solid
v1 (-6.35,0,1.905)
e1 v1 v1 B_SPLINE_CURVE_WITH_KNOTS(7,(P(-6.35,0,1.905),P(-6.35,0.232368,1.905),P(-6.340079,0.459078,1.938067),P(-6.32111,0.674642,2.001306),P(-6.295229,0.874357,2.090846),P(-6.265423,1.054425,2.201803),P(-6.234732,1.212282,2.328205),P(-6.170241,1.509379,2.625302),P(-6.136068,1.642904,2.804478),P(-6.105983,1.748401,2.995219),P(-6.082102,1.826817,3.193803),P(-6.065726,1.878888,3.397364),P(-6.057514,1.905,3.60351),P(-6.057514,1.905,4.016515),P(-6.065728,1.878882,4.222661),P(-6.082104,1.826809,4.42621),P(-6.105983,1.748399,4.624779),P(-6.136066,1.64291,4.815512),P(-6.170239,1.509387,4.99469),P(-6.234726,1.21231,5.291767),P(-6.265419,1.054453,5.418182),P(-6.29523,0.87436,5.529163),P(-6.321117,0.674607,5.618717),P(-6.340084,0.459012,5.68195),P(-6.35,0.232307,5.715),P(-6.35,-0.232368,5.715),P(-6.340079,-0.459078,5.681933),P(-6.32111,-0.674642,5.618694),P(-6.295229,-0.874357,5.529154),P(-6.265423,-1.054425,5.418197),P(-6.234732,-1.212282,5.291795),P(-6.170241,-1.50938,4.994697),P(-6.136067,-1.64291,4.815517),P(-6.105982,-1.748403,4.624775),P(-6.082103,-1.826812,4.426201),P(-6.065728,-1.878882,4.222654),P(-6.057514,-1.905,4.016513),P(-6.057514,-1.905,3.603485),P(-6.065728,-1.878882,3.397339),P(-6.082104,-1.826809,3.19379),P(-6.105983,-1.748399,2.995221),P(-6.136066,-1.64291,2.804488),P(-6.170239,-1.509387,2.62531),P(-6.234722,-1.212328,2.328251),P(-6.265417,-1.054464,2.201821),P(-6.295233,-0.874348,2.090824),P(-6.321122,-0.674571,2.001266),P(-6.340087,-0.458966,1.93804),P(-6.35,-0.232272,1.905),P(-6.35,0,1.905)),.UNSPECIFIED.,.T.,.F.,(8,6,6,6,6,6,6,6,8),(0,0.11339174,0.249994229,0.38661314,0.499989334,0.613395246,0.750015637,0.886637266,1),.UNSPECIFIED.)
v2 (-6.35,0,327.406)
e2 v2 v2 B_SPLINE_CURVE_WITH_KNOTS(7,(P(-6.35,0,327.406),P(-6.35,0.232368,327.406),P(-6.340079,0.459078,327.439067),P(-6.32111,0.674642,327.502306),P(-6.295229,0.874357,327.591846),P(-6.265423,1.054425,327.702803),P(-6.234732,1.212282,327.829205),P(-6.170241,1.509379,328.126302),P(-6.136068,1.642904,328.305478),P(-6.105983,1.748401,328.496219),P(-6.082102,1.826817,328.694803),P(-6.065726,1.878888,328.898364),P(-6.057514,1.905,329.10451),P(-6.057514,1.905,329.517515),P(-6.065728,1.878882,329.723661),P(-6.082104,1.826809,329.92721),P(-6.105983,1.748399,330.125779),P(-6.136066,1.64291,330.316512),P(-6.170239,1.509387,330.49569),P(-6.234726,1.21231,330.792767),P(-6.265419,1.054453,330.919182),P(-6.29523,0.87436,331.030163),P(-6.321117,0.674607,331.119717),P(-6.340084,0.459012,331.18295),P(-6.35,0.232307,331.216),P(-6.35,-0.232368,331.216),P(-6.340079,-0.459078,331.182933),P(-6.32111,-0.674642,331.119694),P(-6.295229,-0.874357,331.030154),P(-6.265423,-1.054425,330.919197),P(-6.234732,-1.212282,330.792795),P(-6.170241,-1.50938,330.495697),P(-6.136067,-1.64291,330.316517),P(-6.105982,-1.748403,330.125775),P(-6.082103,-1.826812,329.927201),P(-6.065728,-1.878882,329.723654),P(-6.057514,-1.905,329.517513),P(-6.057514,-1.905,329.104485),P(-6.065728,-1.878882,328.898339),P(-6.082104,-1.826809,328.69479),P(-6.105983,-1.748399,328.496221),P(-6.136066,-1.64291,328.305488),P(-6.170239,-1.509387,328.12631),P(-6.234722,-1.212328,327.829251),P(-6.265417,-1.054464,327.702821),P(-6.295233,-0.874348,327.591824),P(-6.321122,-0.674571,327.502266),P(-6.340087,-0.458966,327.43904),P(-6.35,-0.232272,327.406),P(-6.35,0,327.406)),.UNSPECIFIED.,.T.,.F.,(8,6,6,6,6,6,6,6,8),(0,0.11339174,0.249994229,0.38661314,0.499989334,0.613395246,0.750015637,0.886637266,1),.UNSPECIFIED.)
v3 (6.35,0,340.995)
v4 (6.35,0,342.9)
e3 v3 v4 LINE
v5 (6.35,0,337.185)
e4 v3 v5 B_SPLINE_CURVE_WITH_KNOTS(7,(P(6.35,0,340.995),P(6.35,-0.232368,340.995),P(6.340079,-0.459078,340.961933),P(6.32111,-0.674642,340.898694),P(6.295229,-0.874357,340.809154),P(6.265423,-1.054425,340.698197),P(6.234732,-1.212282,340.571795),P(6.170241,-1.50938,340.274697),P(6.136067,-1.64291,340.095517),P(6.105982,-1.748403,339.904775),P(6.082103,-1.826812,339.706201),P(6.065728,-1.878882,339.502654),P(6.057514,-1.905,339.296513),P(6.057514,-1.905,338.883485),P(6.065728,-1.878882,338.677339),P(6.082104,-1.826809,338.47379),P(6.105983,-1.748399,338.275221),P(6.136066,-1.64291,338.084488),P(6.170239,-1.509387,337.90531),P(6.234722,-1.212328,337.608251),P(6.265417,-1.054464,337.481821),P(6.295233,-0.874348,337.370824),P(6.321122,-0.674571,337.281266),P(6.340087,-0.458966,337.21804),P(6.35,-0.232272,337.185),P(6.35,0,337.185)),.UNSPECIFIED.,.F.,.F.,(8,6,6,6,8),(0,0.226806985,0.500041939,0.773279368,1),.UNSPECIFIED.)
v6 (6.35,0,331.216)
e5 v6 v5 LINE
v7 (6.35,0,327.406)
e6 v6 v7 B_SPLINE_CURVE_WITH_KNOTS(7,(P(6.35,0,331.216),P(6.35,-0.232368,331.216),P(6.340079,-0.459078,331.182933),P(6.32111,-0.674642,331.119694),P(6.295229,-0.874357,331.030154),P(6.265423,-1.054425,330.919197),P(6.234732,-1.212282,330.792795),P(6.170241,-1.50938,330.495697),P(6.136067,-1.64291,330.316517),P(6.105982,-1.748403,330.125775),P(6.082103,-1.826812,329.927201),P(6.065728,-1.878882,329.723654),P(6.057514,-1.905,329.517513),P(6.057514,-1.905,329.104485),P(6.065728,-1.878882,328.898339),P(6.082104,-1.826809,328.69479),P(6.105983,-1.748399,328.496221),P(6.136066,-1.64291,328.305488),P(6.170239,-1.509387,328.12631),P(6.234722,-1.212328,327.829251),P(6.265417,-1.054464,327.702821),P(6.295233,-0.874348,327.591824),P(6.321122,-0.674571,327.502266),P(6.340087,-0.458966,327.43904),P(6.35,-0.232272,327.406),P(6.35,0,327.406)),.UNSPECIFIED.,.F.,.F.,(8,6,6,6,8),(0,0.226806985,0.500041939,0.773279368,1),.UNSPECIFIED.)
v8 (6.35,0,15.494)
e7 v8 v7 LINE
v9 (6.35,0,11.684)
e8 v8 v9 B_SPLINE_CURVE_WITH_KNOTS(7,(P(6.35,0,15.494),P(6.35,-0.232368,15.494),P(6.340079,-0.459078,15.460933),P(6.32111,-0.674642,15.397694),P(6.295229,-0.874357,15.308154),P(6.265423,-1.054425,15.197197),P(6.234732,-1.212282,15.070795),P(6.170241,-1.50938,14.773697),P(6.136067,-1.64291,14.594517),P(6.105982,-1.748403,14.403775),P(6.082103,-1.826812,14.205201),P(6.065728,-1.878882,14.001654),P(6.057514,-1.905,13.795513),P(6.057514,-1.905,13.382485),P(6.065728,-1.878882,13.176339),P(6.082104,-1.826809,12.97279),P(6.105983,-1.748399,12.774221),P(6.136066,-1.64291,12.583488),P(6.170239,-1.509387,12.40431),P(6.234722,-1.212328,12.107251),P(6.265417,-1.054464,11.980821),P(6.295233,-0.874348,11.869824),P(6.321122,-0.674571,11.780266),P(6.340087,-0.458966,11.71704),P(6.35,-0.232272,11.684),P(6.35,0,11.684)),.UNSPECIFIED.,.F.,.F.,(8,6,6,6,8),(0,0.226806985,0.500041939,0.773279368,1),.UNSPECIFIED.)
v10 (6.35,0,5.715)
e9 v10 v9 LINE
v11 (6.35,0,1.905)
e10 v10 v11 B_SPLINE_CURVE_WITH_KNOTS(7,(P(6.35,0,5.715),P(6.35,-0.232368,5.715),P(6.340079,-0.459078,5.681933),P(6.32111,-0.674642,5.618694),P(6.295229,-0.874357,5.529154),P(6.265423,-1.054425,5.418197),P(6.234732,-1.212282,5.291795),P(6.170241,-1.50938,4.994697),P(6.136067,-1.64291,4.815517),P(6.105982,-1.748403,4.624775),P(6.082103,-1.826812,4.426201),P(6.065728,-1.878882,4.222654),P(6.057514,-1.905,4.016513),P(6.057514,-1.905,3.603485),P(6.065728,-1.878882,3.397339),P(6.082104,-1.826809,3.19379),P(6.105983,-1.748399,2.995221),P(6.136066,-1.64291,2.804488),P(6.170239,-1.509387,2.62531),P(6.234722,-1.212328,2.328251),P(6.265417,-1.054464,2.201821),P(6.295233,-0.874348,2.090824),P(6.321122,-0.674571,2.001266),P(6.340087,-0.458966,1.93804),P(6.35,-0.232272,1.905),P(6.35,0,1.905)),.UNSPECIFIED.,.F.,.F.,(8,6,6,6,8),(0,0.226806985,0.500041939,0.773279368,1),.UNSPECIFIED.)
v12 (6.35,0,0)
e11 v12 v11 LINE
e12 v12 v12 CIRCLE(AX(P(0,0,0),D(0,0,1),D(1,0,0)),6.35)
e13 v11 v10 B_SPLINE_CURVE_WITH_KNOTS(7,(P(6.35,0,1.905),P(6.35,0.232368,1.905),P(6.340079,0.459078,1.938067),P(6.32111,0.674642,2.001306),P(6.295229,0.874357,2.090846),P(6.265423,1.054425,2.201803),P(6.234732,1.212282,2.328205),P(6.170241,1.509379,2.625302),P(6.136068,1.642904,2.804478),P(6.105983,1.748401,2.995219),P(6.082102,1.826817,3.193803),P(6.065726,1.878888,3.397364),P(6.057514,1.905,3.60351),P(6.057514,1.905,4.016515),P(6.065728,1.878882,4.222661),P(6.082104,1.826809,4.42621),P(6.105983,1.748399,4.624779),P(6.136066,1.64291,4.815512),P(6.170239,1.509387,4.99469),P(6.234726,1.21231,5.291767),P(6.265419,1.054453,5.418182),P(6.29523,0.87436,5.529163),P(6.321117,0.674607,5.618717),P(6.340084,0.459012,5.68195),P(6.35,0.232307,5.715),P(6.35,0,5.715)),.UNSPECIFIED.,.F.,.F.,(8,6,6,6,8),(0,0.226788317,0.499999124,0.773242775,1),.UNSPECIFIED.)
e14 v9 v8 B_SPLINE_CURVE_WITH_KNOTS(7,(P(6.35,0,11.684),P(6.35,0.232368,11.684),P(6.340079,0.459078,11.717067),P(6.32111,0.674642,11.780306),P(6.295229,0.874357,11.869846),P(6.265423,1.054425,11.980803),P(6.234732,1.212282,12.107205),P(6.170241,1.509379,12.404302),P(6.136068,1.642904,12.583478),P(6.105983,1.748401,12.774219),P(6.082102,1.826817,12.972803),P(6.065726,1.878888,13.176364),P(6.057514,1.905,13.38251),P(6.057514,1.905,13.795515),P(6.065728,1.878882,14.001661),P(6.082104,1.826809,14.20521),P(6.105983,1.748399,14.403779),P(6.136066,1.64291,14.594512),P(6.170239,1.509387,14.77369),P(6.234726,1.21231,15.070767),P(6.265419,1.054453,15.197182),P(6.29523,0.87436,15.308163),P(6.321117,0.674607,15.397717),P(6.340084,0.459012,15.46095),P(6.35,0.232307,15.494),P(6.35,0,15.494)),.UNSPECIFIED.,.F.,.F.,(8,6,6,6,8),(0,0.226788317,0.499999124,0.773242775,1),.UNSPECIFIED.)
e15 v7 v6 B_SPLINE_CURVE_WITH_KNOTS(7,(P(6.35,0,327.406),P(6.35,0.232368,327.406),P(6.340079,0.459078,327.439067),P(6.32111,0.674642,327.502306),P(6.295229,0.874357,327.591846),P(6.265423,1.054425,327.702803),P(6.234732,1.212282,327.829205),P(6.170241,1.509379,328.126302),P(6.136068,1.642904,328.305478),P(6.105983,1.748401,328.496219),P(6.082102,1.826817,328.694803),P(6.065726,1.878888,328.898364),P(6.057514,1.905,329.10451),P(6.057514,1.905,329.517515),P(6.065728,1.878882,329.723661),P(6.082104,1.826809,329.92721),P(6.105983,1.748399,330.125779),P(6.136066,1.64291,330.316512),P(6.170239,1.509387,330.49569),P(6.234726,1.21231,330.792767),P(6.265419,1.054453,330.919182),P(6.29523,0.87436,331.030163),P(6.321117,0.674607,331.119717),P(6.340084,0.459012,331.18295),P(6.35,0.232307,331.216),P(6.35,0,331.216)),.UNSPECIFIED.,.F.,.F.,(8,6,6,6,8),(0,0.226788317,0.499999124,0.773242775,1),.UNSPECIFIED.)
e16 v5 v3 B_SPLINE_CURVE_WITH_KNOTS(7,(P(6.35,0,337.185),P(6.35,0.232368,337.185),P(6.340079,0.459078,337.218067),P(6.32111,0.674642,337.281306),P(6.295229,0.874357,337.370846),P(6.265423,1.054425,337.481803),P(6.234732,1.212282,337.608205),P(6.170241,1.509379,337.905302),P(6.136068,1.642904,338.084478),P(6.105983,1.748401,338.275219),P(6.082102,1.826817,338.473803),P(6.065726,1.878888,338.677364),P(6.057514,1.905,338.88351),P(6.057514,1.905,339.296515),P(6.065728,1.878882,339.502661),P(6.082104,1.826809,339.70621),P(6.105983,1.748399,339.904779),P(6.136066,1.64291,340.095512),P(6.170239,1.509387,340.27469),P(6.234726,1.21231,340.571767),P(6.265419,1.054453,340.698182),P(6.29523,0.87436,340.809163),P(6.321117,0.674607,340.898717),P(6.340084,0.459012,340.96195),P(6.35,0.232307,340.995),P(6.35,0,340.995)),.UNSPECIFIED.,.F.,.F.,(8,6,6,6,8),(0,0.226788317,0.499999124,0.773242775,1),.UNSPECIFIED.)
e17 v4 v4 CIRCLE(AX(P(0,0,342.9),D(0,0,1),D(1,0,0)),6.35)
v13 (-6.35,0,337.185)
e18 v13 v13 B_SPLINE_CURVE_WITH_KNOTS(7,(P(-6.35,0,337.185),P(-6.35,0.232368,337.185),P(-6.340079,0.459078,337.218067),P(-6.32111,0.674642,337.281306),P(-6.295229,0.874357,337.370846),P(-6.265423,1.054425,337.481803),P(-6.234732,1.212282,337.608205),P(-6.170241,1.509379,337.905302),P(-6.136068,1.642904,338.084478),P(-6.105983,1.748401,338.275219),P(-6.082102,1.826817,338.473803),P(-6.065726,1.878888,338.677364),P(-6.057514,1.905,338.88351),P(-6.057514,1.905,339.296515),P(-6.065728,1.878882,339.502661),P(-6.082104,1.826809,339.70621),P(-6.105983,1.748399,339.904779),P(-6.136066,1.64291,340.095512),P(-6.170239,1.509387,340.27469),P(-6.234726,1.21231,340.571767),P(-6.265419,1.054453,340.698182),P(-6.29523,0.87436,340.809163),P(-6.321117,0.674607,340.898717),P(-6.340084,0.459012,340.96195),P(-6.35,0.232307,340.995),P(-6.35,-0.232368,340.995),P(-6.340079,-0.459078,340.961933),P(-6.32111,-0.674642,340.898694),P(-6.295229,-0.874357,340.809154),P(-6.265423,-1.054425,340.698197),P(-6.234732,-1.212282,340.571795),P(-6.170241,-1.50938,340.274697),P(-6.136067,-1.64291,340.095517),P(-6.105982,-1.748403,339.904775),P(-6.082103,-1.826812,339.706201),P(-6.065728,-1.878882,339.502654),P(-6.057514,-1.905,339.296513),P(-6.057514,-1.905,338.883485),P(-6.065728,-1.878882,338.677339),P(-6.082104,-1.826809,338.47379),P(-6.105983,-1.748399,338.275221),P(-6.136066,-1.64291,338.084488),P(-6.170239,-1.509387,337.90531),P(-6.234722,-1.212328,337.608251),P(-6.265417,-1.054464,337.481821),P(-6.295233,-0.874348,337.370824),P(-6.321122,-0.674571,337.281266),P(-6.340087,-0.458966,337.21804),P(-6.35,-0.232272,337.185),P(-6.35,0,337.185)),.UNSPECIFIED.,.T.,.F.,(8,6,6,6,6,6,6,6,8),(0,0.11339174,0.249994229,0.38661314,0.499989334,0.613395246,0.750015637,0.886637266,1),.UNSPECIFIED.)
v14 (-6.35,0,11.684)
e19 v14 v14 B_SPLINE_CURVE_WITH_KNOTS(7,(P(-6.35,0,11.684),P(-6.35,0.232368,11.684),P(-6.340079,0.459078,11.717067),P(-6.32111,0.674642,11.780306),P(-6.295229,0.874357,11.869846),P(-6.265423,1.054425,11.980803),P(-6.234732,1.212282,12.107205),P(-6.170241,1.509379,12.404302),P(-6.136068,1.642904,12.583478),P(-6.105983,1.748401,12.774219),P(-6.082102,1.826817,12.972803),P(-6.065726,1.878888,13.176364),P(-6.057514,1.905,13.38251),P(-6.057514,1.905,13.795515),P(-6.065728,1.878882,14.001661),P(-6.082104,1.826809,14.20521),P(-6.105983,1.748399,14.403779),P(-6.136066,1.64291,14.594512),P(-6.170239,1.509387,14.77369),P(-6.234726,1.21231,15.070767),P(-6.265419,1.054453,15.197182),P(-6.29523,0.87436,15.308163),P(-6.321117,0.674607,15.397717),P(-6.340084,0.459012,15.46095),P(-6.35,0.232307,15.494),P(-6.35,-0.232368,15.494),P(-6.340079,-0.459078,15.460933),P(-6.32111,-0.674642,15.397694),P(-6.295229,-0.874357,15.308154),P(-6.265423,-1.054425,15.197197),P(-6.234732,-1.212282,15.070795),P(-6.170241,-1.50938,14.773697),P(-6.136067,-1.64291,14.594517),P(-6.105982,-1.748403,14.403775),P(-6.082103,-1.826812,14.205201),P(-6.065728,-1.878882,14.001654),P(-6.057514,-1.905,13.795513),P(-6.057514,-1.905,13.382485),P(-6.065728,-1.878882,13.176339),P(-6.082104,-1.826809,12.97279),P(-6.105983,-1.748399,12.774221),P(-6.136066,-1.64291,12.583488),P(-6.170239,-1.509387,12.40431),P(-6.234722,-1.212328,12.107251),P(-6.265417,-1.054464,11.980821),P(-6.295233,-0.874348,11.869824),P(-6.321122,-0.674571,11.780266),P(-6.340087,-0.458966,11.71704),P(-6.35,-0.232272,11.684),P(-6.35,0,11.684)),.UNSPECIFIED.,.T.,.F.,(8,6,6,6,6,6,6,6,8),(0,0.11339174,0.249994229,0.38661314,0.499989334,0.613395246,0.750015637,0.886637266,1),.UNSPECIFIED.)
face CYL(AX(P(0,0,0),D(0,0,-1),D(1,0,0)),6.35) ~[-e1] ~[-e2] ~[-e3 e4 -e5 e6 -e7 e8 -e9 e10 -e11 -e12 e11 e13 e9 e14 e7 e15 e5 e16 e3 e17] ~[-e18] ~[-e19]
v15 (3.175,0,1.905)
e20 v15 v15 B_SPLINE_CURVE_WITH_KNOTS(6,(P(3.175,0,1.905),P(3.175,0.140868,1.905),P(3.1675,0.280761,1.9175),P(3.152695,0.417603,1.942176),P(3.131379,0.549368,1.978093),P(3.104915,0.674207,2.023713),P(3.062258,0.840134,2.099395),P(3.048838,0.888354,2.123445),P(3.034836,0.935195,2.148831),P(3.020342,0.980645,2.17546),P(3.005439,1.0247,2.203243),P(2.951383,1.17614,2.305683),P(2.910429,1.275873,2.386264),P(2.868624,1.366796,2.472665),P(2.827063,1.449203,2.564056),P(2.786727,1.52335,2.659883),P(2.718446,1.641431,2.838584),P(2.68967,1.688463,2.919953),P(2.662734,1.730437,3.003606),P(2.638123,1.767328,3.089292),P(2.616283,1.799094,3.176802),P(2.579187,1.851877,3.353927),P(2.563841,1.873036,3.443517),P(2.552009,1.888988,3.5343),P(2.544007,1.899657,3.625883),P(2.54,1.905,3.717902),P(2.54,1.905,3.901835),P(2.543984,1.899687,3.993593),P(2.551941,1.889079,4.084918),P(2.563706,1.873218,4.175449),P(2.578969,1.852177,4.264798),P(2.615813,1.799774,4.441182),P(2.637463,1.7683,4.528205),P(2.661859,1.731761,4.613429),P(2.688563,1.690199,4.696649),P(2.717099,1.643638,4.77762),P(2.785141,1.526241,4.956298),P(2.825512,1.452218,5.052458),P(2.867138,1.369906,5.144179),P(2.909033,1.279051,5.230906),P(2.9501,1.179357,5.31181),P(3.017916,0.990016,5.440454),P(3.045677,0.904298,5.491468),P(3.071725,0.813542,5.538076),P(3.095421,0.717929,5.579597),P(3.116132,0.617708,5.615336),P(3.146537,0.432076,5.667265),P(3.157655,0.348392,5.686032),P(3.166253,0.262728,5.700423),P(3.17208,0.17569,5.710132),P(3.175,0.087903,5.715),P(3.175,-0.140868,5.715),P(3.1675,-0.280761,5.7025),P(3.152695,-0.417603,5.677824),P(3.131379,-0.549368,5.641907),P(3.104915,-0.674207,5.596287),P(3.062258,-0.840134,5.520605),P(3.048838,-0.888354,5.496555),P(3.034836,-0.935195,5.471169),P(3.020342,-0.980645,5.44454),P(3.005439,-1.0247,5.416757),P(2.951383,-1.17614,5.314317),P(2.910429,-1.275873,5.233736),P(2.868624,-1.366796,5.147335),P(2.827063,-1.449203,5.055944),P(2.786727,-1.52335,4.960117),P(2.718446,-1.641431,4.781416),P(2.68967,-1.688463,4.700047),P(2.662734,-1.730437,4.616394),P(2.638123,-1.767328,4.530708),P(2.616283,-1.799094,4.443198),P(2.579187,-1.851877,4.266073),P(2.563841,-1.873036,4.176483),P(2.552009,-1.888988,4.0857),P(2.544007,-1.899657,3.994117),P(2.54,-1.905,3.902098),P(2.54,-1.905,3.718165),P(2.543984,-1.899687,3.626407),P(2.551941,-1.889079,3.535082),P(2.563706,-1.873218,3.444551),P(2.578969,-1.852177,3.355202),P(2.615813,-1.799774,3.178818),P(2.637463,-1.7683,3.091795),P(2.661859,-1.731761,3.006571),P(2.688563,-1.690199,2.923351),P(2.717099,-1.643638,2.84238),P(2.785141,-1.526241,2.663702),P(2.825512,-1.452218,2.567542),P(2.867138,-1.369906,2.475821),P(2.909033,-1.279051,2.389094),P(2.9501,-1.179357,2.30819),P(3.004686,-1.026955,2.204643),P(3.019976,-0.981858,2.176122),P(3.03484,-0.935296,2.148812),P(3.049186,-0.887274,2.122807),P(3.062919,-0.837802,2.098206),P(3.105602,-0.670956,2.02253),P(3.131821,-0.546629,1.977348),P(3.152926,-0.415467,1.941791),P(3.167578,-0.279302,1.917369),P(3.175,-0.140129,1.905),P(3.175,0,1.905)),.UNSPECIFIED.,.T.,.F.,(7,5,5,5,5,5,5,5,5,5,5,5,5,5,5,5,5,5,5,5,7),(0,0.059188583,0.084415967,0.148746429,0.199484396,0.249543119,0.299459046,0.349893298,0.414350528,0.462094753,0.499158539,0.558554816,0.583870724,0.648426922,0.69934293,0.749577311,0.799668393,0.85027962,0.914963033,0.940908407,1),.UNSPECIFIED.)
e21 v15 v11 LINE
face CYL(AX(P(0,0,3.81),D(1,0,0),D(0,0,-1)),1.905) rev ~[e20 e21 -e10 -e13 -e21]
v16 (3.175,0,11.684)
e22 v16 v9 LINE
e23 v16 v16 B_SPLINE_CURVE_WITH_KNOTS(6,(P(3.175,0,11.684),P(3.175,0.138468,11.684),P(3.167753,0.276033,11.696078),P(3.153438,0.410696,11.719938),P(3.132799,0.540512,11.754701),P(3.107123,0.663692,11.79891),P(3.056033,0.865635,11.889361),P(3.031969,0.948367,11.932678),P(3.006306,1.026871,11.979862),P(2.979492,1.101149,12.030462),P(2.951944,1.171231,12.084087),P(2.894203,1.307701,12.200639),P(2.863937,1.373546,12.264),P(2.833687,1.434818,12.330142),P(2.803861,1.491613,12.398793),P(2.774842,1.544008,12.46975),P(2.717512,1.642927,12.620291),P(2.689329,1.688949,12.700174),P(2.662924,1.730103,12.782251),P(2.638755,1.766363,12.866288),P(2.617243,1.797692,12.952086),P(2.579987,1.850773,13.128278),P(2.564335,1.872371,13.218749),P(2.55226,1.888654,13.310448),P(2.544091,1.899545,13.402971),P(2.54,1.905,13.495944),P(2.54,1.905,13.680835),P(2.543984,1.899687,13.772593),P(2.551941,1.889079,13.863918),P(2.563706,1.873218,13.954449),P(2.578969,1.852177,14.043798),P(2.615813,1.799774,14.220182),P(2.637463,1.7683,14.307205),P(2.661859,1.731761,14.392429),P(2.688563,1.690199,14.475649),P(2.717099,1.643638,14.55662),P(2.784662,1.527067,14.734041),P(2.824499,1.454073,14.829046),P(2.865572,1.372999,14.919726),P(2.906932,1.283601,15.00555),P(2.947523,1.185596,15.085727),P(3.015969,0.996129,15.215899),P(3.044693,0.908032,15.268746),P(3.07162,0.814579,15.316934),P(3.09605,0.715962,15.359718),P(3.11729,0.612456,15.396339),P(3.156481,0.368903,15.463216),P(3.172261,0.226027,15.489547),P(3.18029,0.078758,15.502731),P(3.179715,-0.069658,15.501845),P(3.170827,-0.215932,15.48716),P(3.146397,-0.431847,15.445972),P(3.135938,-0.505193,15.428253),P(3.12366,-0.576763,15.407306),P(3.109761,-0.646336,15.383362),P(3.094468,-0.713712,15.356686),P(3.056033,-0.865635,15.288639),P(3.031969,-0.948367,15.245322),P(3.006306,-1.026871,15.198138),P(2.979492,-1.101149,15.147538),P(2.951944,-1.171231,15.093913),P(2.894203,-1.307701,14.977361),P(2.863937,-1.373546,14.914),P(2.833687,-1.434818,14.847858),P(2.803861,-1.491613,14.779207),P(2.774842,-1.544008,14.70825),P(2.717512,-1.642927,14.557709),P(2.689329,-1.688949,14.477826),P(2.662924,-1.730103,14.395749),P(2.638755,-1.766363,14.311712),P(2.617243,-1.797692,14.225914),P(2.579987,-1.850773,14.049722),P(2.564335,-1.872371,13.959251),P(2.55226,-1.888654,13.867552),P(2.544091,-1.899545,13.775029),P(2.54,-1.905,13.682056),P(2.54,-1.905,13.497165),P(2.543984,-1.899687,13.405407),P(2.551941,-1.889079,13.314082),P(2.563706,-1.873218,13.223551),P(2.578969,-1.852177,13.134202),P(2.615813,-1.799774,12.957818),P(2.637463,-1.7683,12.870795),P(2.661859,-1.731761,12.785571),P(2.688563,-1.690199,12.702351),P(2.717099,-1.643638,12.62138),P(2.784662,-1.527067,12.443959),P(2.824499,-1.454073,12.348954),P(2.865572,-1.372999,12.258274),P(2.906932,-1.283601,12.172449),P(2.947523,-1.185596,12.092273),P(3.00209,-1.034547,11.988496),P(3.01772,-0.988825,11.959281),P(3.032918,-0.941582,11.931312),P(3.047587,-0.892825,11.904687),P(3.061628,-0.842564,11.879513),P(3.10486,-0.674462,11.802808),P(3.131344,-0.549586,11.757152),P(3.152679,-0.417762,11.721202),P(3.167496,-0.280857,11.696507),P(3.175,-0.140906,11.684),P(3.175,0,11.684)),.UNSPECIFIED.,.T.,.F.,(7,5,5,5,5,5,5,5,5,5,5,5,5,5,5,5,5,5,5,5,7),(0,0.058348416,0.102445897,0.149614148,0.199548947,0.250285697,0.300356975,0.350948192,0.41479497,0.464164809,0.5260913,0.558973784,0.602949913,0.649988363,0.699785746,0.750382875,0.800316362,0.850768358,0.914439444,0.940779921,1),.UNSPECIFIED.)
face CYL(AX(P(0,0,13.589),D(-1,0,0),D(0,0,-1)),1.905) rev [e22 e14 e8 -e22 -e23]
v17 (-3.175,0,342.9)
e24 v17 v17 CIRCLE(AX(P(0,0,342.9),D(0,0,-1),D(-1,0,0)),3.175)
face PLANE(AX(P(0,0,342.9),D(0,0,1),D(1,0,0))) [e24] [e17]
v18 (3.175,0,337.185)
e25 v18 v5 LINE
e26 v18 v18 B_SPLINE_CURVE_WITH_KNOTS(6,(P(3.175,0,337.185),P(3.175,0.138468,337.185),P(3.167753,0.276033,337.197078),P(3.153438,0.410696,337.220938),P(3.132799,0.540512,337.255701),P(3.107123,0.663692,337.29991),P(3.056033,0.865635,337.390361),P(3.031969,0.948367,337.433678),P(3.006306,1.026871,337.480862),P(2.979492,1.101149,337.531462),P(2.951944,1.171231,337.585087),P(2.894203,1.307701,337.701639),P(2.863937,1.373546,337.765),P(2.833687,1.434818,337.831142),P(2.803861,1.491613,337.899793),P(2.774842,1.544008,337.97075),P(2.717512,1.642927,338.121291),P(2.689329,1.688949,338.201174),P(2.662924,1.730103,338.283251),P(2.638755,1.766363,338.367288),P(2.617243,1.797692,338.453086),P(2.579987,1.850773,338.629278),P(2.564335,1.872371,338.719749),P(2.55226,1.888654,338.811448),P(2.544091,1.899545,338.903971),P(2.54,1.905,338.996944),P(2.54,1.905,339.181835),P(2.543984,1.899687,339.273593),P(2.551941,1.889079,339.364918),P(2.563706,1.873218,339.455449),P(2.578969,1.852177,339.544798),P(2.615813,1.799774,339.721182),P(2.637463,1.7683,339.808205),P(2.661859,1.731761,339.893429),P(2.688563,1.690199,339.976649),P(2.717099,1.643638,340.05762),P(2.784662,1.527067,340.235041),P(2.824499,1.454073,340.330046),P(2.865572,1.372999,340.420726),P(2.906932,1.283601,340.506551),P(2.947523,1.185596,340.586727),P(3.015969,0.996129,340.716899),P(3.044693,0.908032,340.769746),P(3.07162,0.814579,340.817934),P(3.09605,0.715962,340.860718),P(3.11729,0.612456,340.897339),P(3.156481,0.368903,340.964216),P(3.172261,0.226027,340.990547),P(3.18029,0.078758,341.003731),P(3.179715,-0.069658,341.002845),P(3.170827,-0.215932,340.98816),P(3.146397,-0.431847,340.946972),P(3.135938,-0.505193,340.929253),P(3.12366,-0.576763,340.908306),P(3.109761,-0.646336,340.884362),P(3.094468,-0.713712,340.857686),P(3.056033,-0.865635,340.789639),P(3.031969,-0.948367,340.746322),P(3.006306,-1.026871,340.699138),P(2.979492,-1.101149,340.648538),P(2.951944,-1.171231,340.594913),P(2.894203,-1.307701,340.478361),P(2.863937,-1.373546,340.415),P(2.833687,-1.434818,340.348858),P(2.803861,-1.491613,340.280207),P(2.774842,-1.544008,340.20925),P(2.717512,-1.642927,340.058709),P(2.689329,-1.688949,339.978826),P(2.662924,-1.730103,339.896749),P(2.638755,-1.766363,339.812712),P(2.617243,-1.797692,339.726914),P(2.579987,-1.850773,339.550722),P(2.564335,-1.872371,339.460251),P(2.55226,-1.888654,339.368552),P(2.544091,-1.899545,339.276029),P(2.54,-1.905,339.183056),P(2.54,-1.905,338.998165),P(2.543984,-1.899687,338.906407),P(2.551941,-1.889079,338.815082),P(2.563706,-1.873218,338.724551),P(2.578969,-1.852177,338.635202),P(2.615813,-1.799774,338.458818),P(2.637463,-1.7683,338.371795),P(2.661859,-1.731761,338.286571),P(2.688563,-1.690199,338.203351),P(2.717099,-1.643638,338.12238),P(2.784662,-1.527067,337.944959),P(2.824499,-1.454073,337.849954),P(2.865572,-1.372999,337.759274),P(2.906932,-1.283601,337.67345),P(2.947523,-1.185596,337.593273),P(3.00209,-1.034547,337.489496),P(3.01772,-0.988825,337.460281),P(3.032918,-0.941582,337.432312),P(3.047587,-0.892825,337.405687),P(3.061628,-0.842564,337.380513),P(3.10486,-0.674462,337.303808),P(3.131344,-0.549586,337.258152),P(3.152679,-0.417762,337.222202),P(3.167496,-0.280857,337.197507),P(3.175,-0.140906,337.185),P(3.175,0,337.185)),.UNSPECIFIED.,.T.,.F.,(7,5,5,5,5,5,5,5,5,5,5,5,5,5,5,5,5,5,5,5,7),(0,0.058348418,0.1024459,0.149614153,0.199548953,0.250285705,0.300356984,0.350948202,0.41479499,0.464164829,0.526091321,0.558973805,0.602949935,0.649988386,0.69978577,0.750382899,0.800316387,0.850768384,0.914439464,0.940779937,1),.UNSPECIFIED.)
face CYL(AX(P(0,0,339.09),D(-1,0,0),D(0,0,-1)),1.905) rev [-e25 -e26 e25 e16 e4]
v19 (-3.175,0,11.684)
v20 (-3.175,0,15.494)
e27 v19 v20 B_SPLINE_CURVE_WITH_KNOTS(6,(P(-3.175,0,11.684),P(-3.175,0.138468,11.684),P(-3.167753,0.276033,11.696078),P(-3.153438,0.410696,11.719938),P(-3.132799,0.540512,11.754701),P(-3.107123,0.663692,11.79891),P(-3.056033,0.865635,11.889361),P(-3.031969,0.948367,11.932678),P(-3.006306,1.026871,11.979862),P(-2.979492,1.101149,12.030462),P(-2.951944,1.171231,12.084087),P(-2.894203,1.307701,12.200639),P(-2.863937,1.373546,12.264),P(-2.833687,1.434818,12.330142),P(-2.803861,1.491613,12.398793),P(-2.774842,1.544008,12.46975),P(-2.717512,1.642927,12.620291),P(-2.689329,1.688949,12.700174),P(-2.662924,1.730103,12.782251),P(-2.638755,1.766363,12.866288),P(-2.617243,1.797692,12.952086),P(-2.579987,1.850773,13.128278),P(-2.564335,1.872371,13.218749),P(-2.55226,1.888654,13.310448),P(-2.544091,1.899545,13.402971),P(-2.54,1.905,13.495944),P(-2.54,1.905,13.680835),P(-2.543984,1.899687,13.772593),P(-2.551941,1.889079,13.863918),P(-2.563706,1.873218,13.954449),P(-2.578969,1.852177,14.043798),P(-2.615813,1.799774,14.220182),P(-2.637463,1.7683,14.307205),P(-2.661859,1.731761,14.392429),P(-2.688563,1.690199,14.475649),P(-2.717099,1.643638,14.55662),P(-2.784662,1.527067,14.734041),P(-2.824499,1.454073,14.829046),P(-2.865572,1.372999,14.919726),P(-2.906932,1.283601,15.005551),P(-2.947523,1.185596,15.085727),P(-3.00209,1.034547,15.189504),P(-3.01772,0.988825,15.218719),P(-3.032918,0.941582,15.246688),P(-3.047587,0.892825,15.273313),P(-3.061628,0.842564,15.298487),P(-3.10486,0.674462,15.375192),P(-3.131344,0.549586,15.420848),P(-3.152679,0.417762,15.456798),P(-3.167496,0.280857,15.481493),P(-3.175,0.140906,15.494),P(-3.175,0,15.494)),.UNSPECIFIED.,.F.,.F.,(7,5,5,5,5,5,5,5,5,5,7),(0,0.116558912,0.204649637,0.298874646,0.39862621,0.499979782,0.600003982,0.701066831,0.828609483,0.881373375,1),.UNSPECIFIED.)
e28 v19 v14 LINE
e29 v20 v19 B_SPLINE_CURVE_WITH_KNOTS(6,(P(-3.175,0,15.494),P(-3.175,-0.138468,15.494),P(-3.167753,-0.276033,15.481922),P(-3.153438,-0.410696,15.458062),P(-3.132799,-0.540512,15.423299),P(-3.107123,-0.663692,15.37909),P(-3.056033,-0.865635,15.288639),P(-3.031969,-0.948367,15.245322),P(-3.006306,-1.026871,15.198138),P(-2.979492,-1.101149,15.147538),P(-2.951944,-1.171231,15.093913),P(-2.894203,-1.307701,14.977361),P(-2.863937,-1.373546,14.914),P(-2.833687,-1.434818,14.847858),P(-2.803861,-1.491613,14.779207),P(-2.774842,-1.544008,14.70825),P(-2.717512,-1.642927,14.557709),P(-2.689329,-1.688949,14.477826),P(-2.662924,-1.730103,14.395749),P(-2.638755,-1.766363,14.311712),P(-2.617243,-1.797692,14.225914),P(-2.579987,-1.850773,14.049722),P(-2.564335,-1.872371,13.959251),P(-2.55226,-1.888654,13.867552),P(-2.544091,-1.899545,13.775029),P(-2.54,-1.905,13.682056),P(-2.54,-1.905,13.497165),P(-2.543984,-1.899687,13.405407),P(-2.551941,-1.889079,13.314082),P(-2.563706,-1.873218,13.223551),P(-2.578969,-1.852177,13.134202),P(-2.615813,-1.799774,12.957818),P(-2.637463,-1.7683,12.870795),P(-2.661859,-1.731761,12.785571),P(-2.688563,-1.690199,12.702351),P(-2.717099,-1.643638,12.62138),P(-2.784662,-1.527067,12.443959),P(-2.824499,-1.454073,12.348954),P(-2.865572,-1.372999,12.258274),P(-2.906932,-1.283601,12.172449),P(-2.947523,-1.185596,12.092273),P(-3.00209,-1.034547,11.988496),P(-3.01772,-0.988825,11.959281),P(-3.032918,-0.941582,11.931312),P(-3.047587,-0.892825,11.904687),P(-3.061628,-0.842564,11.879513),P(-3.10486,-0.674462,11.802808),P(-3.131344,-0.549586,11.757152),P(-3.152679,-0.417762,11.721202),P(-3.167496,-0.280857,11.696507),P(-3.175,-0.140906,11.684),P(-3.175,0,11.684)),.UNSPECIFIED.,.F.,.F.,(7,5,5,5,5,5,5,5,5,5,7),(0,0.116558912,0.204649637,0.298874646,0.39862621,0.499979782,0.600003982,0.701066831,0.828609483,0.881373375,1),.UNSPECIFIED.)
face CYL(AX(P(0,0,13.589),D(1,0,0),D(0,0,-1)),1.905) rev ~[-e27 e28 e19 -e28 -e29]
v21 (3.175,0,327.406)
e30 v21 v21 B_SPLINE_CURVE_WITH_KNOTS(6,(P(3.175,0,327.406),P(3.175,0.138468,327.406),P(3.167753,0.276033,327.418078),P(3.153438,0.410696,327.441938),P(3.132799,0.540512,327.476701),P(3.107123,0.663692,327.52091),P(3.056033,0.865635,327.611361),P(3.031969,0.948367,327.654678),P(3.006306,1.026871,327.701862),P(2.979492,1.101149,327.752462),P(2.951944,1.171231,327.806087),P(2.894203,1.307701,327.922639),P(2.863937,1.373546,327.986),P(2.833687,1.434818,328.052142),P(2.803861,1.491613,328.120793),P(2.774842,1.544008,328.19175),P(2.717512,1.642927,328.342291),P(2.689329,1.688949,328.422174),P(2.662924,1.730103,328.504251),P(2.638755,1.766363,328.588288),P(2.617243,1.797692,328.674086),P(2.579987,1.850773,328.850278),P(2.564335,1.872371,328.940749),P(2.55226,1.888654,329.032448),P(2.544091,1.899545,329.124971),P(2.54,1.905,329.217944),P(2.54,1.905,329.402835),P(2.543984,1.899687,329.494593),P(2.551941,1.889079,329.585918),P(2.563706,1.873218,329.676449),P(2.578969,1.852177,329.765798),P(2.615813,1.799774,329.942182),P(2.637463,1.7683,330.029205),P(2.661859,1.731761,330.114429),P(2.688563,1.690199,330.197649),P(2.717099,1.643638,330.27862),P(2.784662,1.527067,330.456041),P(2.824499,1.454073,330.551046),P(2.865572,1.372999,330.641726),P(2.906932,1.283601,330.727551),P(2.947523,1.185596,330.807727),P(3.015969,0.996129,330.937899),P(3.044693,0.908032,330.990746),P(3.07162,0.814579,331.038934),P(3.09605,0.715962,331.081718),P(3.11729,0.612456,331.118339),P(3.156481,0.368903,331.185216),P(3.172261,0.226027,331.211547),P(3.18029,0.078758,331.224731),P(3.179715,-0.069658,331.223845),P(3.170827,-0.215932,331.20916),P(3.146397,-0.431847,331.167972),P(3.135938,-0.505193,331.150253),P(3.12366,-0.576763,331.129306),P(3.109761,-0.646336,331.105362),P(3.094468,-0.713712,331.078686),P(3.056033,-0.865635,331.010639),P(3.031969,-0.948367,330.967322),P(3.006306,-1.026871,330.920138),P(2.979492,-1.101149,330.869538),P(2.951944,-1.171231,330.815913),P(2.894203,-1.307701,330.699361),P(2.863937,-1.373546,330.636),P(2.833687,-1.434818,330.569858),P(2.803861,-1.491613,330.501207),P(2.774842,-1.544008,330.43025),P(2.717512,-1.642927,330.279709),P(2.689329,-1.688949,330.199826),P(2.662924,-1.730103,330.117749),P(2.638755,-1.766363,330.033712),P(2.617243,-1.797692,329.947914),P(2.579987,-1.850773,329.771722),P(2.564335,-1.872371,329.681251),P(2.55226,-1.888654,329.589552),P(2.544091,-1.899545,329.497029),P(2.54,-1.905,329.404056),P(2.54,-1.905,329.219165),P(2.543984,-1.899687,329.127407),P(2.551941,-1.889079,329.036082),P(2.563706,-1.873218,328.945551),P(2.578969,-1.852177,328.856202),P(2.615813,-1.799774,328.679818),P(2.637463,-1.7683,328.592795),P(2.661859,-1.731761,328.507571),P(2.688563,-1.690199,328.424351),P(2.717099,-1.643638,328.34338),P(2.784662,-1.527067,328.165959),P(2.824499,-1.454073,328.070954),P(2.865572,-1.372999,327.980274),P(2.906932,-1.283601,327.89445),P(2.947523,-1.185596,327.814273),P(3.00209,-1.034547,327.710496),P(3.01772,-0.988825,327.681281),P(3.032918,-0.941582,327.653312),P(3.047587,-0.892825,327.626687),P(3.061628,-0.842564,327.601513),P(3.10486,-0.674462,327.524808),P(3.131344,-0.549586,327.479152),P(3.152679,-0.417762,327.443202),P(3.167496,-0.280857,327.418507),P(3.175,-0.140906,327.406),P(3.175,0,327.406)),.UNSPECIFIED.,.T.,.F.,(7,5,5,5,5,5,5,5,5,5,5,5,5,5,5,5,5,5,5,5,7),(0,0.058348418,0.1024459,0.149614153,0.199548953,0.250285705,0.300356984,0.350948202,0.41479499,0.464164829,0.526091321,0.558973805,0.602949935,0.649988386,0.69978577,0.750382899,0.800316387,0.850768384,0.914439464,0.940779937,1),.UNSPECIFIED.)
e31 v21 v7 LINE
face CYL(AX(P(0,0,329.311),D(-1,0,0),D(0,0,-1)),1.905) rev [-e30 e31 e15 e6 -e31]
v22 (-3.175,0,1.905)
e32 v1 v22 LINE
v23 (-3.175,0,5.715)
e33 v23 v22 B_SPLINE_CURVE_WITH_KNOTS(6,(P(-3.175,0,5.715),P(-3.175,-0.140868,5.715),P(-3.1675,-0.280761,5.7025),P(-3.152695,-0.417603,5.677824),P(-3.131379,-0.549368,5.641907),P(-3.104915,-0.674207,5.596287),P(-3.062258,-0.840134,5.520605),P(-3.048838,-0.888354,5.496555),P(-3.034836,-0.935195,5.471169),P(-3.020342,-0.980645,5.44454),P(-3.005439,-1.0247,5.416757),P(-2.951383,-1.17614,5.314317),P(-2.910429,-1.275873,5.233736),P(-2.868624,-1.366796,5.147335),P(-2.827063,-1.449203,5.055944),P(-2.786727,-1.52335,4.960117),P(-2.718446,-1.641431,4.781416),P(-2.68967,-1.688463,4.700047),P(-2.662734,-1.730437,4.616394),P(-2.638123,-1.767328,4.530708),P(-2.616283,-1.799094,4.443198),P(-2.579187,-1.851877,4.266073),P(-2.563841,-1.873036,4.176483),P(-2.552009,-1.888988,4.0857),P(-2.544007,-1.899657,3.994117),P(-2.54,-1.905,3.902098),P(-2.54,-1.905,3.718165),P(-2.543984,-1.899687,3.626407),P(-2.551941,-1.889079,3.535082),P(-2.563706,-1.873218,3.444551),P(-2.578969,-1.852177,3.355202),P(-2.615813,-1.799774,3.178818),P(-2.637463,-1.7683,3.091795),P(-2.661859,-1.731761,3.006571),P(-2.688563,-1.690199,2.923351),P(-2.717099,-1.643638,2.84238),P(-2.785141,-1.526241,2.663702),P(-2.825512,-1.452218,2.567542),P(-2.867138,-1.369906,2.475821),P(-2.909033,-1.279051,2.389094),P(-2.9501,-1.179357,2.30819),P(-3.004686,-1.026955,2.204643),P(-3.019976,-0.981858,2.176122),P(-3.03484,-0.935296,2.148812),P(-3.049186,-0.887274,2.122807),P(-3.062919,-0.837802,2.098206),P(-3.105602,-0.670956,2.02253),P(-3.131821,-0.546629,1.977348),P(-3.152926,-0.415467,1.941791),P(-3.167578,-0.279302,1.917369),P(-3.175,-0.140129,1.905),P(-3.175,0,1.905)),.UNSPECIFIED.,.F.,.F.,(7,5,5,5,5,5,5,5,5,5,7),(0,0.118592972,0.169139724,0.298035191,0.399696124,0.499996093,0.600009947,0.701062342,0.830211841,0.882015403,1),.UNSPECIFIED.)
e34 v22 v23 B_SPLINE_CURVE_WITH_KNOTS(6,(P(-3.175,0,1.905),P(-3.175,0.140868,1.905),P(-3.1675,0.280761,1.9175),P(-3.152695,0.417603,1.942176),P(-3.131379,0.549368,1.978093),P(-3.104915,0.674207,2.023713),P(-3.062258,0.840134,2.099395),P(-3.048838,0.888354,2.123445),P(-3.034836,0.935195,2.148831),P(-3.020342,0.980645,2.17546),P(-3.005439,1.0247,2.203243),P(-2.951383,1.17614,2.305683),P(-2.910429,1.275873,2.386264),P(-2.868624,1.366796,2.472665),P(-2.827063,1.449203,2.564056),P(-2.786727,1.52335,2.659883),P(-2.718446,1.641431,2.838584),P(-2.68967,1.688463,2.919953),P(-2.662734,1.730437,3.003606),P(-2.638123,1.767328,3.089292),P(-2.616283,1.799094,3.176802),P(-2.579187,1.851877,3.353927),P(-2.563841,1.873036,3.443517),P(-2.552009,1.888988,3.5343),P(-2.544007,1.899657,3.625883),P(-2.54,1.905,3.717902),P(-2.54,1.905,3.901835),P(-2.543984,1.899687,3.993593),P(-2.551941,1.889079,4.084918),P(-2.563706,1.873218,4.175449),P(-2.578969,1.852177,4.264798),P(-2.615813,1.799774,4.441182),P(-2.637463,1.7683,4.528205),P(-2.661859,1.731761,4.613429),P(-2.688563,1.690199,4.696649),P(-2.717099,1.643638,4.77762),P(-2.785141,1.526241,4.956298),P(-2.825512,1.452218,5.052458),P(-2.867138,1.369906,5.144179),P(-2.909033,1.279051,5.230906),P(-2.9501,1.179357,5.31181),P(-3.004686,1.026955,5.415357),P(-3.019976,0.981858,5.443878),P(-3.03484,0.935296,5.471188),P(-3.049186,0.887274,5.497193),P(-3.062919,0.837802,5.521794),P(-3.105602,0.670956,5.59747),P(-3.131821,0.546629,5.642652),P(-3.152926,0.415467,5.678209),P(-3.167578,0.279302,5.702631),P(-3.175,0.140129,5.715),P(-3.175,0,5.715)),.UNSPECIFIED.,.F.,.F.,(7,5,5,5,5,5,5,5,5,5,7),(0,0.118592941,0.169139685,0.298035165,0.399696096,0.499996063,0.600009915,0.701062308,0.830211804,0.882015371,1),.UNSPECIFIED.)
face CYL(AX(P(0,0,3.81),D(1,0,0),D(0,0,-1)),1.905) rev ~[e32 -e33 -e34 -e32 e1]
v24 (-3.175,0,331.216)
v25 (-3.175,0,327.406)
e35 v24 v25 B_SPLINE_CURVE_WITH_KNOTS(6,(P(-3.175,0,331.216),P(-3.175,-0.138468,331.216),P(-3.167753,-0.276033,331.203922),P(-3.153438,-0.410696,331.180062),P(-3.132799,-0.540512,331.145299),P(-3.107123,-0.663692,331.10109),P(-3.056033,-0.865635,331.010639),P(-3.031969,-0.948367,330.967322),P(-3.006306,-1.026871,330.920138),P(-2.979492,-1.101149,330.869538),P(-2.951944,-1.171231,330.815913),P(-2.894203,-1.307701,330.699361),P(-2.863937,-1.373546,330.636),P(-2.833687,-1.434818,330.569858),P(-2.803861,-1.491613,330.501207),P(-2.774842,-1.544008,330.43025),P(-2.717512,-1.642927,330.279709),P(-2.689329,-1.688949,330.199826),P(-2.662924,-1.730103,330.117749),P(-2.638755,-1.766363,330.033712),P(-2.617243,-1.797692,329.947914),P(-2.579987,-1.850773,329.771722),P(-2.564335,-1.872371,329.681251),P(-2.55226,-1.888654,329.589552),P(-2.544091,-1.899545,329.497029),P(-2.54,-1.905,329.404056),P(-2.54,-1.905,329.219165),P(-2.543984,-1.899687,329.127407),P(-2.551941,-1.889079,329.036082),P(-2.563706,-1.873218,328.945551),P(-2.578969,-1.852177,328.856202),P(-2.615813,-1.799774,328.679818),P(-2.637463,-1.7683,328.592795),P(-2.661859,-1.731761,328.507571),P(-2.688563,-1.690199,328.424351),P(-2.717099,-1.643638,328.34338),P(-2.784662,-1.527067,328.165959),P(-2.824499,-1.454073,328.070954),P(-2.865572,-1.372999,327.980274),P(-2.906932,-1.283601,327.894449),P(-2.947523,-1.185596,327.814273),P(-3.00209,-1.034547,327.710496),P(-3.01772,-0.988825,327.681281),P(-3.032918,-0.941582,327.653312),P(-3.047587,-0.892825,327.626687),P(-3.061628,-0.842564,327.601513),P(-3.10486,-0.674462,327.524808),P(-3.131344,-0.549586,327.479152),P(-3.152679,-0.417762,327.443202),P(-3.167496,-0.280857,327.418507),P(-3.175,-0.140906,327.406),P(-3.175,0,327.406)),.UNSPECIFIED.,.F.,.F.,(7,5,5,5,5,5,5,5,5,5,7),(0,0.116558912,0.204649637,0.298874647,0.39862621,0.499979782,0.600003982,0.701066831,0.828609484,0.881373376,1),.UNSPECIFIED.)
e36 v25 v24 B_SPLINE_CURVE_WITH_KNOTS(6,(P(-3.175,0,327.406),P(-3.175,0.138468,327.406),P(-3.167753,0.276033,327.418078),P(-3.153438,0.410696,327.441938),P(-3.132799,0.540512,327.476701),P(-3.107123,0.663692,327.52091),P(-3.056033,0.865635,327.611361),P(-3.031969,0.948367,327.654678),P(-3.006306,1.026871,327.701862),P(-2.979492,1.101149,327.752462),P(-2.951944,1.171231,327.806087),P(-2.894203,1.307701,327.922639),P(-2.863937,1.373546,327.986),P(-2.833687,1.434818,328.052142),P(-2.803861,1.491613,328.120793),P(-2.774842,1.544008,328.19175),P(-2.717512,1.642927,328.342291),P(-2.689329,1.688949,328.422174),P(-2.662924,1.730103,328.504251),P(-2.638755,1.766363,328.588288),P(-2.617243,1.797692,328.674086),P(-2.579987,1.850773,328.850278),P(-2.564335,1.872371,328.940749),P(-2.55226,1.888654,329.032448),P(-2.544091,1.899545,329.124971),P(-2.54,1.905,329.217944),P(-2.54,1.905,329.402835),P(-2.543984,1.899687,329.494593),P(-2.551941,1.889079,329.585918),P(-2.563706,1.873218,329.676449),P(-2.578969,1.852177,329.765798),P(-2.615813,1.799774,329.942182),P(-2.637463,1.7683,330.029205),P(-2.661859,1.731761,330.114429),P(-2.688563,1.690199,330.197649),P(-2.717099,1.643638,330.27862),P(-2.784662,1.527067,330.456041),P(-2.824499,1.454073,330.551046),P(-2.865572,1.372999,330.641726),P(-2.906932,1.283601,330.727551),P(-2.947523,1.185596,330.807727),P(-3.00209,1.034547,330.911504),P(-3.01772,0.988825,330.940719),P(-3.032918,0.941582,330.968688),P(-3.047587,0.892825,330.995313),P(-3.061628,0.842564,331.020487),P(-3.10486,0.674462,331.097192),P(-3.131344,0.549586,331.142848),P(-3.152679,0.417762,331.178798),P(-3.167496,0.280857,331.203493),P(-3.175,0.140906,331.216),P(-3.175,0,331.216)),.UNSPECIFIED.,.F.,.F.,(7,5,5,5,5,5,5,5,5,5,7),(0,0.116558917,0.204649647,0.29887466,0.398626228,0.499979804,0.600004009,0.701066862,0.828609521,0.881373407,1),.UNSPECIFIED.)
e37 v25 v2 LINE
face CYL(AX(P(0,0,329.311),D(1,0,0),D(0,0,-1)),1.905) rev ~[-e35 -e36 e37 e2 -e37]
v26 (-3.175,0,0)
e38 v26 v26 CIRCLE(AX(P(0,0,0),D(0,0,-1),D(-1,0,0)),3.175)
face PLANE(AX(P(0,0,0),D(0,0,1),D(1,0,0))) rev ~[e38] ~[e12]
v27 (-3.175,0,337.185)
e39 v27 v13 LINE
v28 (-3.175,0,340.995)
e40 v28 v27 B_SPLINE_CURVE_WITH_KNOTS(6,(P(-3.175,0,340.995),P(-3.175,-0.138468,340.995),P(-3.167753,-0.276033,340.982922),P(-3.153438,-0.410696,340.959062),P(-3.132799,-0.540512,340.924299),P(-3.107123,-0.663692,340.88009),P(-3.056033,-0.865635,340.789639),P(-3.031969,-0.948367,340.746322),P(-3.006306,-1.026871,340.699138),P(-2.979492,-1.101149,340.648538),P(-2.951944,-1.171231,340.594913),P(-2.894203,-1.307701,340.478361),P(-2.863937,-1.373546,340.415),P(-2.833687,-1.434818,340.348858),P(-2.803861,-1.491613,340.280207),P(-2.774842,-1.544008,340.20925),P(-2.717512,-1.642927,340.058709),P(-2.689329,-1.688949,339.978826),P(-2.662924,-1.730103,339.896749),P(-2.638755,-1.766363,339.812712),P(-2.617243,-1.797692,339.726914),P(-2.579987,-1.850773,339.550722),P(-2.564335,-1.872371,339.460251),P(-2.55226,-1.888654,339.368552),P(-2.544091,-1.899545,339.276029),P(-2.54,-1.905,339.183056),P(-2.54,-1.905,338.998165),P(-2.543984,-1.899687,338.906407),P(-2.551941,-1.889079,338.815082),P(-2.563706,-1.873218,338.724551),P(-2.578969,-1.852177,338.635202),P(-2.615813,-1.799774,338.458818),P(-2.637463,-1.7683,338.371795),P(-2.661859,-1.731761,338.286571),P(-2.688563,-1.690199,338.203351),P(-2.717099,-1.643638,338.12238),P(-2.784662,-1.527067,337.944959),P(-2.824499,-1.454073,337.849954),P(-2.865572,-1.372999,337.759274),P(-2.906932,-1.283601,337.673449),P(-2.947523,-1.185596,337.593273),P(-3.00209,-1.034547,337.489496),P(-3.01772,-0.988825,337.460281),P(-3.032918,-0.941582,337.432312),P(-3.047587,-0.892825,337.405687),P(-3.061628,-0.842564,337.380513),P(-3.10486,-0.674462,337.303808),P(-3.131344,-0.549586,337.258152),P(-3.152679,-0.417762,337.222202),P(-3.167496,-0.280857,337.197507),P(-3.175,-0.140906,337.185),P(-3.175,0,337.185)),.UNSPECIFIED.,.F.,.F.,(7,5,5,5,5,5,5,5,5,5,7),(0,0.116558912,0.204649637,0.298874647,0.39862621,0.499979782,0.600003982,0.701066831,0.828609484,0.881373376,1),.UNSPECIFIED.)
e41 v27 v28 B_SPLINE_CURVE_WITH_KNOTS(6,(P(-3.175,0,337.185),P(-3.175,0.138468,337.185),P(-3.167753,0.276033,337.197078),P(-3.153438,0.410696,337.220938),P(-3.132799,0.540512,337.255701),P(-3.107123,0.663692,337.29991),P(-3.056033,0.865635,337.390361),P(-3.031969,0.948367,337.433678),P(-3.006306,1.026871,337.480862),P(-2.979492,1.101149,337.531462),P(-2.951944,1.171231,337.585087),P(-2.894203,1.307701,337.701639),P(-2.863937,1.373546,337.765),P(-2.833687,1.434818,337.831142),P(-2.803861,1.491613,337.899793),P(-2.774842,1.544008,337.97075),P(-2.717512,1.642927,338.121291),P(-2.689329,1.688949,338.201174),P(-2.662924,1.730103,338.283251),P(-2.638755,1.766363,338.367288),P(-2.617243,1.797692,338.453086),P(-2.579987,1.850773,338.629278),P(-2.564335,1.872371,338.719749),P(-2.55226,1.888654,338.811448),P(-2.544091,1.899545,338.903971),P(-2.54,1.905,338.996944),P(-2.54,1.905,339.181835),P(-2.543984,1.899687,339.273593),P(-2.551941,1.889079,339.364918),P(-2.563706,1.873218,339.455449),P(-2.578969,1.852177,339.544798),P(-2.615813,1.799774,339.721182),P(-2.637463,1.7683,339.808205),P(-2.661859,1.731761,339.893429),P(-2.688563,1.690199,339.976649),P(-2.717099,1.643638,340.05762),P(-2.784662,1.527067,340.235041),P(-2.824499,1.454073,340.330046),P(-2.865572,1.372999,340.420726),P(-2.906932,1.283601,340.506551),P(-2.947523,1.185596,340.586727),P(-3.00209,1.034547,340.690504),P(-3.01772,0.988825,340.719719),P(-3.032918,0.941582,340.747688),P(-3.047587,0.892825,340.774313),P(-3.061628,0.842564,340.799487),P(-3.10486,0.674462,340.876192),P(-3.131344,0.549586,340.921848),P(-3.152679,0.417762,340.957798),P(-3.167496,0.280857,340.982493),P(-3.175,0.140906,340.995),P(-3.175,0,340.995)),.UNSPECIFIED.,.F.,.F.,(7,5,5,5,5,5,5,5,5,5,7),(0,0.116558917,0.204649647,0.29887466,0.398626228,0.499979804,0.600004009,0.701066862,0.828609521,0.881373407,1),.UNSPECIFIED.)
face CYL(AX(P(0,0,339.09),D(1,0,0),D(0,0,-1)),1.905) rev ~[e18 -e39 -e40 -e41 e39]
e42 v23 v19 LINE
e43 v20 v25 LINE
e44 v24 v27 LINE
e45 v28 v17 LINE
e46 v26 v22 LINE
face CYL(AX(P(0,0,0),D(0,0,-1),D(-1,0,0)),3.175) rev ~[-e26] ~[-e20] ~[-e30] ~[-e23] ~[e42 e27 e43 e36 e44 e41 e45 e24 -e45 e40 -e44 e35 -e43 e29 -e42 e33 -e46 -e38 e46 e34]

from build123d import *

# Parameters (mm, degrees)
SKETCH2_R           = 6.35
BOSS_EXTRUDE1_DEPTH = 342.9
SKETCH3_R           = 1.905
CUT_EXTRUDE5_DEPTH  = 177.8
SKETCH4_R           = 3.175
CUT_EXTRUDE6_DEPTH  = 343.9000001


with BuildPart() as part:
    # Sketch2 → Boss-Extrude1 (new body)
    with BuildSketch(Plane.XY):
        Circle(SKETCH2_R)
    extrude(amount=BOSS_EXTRUDE1_DEPTH)

    # Sketch3 → Cut-Extrude5 (cut, symmetric)
    with BuildSketch(Plane(origin=(0, 0, 0), x_dir=(0, 0, -1), z_dir=(1, 0, 0))):
        with Locations((-339.09, 0)):
            Circle(SKETCH3_R)
        with Locations((-329.311, 0)):
            Circle(SKETCH3_R)
        with Locations((-13.589, 0)):
            Circle(SKETCH3_R)
        with Locations((-3.81, 0)):
            Circle(SKETCH3_R)
    extrude(amount=CUT_EXTRUDE5_DEPTH, both=True, mode=Mode.SUBTRACT)

    # Sketch4 → Cut-Extrude6 (cut, through all)
    with BuildSketch(Plane(origin=(0, 0, 0), x_dir=(-1, 0, 0), z_dir=(0, 0, -1))):
        Circle(SKETCH4_R)
    extrude(amount=-CUT_EXTRUDE6_DEPTH, mode=Mode.SUBTRACT)


solid = part.part
